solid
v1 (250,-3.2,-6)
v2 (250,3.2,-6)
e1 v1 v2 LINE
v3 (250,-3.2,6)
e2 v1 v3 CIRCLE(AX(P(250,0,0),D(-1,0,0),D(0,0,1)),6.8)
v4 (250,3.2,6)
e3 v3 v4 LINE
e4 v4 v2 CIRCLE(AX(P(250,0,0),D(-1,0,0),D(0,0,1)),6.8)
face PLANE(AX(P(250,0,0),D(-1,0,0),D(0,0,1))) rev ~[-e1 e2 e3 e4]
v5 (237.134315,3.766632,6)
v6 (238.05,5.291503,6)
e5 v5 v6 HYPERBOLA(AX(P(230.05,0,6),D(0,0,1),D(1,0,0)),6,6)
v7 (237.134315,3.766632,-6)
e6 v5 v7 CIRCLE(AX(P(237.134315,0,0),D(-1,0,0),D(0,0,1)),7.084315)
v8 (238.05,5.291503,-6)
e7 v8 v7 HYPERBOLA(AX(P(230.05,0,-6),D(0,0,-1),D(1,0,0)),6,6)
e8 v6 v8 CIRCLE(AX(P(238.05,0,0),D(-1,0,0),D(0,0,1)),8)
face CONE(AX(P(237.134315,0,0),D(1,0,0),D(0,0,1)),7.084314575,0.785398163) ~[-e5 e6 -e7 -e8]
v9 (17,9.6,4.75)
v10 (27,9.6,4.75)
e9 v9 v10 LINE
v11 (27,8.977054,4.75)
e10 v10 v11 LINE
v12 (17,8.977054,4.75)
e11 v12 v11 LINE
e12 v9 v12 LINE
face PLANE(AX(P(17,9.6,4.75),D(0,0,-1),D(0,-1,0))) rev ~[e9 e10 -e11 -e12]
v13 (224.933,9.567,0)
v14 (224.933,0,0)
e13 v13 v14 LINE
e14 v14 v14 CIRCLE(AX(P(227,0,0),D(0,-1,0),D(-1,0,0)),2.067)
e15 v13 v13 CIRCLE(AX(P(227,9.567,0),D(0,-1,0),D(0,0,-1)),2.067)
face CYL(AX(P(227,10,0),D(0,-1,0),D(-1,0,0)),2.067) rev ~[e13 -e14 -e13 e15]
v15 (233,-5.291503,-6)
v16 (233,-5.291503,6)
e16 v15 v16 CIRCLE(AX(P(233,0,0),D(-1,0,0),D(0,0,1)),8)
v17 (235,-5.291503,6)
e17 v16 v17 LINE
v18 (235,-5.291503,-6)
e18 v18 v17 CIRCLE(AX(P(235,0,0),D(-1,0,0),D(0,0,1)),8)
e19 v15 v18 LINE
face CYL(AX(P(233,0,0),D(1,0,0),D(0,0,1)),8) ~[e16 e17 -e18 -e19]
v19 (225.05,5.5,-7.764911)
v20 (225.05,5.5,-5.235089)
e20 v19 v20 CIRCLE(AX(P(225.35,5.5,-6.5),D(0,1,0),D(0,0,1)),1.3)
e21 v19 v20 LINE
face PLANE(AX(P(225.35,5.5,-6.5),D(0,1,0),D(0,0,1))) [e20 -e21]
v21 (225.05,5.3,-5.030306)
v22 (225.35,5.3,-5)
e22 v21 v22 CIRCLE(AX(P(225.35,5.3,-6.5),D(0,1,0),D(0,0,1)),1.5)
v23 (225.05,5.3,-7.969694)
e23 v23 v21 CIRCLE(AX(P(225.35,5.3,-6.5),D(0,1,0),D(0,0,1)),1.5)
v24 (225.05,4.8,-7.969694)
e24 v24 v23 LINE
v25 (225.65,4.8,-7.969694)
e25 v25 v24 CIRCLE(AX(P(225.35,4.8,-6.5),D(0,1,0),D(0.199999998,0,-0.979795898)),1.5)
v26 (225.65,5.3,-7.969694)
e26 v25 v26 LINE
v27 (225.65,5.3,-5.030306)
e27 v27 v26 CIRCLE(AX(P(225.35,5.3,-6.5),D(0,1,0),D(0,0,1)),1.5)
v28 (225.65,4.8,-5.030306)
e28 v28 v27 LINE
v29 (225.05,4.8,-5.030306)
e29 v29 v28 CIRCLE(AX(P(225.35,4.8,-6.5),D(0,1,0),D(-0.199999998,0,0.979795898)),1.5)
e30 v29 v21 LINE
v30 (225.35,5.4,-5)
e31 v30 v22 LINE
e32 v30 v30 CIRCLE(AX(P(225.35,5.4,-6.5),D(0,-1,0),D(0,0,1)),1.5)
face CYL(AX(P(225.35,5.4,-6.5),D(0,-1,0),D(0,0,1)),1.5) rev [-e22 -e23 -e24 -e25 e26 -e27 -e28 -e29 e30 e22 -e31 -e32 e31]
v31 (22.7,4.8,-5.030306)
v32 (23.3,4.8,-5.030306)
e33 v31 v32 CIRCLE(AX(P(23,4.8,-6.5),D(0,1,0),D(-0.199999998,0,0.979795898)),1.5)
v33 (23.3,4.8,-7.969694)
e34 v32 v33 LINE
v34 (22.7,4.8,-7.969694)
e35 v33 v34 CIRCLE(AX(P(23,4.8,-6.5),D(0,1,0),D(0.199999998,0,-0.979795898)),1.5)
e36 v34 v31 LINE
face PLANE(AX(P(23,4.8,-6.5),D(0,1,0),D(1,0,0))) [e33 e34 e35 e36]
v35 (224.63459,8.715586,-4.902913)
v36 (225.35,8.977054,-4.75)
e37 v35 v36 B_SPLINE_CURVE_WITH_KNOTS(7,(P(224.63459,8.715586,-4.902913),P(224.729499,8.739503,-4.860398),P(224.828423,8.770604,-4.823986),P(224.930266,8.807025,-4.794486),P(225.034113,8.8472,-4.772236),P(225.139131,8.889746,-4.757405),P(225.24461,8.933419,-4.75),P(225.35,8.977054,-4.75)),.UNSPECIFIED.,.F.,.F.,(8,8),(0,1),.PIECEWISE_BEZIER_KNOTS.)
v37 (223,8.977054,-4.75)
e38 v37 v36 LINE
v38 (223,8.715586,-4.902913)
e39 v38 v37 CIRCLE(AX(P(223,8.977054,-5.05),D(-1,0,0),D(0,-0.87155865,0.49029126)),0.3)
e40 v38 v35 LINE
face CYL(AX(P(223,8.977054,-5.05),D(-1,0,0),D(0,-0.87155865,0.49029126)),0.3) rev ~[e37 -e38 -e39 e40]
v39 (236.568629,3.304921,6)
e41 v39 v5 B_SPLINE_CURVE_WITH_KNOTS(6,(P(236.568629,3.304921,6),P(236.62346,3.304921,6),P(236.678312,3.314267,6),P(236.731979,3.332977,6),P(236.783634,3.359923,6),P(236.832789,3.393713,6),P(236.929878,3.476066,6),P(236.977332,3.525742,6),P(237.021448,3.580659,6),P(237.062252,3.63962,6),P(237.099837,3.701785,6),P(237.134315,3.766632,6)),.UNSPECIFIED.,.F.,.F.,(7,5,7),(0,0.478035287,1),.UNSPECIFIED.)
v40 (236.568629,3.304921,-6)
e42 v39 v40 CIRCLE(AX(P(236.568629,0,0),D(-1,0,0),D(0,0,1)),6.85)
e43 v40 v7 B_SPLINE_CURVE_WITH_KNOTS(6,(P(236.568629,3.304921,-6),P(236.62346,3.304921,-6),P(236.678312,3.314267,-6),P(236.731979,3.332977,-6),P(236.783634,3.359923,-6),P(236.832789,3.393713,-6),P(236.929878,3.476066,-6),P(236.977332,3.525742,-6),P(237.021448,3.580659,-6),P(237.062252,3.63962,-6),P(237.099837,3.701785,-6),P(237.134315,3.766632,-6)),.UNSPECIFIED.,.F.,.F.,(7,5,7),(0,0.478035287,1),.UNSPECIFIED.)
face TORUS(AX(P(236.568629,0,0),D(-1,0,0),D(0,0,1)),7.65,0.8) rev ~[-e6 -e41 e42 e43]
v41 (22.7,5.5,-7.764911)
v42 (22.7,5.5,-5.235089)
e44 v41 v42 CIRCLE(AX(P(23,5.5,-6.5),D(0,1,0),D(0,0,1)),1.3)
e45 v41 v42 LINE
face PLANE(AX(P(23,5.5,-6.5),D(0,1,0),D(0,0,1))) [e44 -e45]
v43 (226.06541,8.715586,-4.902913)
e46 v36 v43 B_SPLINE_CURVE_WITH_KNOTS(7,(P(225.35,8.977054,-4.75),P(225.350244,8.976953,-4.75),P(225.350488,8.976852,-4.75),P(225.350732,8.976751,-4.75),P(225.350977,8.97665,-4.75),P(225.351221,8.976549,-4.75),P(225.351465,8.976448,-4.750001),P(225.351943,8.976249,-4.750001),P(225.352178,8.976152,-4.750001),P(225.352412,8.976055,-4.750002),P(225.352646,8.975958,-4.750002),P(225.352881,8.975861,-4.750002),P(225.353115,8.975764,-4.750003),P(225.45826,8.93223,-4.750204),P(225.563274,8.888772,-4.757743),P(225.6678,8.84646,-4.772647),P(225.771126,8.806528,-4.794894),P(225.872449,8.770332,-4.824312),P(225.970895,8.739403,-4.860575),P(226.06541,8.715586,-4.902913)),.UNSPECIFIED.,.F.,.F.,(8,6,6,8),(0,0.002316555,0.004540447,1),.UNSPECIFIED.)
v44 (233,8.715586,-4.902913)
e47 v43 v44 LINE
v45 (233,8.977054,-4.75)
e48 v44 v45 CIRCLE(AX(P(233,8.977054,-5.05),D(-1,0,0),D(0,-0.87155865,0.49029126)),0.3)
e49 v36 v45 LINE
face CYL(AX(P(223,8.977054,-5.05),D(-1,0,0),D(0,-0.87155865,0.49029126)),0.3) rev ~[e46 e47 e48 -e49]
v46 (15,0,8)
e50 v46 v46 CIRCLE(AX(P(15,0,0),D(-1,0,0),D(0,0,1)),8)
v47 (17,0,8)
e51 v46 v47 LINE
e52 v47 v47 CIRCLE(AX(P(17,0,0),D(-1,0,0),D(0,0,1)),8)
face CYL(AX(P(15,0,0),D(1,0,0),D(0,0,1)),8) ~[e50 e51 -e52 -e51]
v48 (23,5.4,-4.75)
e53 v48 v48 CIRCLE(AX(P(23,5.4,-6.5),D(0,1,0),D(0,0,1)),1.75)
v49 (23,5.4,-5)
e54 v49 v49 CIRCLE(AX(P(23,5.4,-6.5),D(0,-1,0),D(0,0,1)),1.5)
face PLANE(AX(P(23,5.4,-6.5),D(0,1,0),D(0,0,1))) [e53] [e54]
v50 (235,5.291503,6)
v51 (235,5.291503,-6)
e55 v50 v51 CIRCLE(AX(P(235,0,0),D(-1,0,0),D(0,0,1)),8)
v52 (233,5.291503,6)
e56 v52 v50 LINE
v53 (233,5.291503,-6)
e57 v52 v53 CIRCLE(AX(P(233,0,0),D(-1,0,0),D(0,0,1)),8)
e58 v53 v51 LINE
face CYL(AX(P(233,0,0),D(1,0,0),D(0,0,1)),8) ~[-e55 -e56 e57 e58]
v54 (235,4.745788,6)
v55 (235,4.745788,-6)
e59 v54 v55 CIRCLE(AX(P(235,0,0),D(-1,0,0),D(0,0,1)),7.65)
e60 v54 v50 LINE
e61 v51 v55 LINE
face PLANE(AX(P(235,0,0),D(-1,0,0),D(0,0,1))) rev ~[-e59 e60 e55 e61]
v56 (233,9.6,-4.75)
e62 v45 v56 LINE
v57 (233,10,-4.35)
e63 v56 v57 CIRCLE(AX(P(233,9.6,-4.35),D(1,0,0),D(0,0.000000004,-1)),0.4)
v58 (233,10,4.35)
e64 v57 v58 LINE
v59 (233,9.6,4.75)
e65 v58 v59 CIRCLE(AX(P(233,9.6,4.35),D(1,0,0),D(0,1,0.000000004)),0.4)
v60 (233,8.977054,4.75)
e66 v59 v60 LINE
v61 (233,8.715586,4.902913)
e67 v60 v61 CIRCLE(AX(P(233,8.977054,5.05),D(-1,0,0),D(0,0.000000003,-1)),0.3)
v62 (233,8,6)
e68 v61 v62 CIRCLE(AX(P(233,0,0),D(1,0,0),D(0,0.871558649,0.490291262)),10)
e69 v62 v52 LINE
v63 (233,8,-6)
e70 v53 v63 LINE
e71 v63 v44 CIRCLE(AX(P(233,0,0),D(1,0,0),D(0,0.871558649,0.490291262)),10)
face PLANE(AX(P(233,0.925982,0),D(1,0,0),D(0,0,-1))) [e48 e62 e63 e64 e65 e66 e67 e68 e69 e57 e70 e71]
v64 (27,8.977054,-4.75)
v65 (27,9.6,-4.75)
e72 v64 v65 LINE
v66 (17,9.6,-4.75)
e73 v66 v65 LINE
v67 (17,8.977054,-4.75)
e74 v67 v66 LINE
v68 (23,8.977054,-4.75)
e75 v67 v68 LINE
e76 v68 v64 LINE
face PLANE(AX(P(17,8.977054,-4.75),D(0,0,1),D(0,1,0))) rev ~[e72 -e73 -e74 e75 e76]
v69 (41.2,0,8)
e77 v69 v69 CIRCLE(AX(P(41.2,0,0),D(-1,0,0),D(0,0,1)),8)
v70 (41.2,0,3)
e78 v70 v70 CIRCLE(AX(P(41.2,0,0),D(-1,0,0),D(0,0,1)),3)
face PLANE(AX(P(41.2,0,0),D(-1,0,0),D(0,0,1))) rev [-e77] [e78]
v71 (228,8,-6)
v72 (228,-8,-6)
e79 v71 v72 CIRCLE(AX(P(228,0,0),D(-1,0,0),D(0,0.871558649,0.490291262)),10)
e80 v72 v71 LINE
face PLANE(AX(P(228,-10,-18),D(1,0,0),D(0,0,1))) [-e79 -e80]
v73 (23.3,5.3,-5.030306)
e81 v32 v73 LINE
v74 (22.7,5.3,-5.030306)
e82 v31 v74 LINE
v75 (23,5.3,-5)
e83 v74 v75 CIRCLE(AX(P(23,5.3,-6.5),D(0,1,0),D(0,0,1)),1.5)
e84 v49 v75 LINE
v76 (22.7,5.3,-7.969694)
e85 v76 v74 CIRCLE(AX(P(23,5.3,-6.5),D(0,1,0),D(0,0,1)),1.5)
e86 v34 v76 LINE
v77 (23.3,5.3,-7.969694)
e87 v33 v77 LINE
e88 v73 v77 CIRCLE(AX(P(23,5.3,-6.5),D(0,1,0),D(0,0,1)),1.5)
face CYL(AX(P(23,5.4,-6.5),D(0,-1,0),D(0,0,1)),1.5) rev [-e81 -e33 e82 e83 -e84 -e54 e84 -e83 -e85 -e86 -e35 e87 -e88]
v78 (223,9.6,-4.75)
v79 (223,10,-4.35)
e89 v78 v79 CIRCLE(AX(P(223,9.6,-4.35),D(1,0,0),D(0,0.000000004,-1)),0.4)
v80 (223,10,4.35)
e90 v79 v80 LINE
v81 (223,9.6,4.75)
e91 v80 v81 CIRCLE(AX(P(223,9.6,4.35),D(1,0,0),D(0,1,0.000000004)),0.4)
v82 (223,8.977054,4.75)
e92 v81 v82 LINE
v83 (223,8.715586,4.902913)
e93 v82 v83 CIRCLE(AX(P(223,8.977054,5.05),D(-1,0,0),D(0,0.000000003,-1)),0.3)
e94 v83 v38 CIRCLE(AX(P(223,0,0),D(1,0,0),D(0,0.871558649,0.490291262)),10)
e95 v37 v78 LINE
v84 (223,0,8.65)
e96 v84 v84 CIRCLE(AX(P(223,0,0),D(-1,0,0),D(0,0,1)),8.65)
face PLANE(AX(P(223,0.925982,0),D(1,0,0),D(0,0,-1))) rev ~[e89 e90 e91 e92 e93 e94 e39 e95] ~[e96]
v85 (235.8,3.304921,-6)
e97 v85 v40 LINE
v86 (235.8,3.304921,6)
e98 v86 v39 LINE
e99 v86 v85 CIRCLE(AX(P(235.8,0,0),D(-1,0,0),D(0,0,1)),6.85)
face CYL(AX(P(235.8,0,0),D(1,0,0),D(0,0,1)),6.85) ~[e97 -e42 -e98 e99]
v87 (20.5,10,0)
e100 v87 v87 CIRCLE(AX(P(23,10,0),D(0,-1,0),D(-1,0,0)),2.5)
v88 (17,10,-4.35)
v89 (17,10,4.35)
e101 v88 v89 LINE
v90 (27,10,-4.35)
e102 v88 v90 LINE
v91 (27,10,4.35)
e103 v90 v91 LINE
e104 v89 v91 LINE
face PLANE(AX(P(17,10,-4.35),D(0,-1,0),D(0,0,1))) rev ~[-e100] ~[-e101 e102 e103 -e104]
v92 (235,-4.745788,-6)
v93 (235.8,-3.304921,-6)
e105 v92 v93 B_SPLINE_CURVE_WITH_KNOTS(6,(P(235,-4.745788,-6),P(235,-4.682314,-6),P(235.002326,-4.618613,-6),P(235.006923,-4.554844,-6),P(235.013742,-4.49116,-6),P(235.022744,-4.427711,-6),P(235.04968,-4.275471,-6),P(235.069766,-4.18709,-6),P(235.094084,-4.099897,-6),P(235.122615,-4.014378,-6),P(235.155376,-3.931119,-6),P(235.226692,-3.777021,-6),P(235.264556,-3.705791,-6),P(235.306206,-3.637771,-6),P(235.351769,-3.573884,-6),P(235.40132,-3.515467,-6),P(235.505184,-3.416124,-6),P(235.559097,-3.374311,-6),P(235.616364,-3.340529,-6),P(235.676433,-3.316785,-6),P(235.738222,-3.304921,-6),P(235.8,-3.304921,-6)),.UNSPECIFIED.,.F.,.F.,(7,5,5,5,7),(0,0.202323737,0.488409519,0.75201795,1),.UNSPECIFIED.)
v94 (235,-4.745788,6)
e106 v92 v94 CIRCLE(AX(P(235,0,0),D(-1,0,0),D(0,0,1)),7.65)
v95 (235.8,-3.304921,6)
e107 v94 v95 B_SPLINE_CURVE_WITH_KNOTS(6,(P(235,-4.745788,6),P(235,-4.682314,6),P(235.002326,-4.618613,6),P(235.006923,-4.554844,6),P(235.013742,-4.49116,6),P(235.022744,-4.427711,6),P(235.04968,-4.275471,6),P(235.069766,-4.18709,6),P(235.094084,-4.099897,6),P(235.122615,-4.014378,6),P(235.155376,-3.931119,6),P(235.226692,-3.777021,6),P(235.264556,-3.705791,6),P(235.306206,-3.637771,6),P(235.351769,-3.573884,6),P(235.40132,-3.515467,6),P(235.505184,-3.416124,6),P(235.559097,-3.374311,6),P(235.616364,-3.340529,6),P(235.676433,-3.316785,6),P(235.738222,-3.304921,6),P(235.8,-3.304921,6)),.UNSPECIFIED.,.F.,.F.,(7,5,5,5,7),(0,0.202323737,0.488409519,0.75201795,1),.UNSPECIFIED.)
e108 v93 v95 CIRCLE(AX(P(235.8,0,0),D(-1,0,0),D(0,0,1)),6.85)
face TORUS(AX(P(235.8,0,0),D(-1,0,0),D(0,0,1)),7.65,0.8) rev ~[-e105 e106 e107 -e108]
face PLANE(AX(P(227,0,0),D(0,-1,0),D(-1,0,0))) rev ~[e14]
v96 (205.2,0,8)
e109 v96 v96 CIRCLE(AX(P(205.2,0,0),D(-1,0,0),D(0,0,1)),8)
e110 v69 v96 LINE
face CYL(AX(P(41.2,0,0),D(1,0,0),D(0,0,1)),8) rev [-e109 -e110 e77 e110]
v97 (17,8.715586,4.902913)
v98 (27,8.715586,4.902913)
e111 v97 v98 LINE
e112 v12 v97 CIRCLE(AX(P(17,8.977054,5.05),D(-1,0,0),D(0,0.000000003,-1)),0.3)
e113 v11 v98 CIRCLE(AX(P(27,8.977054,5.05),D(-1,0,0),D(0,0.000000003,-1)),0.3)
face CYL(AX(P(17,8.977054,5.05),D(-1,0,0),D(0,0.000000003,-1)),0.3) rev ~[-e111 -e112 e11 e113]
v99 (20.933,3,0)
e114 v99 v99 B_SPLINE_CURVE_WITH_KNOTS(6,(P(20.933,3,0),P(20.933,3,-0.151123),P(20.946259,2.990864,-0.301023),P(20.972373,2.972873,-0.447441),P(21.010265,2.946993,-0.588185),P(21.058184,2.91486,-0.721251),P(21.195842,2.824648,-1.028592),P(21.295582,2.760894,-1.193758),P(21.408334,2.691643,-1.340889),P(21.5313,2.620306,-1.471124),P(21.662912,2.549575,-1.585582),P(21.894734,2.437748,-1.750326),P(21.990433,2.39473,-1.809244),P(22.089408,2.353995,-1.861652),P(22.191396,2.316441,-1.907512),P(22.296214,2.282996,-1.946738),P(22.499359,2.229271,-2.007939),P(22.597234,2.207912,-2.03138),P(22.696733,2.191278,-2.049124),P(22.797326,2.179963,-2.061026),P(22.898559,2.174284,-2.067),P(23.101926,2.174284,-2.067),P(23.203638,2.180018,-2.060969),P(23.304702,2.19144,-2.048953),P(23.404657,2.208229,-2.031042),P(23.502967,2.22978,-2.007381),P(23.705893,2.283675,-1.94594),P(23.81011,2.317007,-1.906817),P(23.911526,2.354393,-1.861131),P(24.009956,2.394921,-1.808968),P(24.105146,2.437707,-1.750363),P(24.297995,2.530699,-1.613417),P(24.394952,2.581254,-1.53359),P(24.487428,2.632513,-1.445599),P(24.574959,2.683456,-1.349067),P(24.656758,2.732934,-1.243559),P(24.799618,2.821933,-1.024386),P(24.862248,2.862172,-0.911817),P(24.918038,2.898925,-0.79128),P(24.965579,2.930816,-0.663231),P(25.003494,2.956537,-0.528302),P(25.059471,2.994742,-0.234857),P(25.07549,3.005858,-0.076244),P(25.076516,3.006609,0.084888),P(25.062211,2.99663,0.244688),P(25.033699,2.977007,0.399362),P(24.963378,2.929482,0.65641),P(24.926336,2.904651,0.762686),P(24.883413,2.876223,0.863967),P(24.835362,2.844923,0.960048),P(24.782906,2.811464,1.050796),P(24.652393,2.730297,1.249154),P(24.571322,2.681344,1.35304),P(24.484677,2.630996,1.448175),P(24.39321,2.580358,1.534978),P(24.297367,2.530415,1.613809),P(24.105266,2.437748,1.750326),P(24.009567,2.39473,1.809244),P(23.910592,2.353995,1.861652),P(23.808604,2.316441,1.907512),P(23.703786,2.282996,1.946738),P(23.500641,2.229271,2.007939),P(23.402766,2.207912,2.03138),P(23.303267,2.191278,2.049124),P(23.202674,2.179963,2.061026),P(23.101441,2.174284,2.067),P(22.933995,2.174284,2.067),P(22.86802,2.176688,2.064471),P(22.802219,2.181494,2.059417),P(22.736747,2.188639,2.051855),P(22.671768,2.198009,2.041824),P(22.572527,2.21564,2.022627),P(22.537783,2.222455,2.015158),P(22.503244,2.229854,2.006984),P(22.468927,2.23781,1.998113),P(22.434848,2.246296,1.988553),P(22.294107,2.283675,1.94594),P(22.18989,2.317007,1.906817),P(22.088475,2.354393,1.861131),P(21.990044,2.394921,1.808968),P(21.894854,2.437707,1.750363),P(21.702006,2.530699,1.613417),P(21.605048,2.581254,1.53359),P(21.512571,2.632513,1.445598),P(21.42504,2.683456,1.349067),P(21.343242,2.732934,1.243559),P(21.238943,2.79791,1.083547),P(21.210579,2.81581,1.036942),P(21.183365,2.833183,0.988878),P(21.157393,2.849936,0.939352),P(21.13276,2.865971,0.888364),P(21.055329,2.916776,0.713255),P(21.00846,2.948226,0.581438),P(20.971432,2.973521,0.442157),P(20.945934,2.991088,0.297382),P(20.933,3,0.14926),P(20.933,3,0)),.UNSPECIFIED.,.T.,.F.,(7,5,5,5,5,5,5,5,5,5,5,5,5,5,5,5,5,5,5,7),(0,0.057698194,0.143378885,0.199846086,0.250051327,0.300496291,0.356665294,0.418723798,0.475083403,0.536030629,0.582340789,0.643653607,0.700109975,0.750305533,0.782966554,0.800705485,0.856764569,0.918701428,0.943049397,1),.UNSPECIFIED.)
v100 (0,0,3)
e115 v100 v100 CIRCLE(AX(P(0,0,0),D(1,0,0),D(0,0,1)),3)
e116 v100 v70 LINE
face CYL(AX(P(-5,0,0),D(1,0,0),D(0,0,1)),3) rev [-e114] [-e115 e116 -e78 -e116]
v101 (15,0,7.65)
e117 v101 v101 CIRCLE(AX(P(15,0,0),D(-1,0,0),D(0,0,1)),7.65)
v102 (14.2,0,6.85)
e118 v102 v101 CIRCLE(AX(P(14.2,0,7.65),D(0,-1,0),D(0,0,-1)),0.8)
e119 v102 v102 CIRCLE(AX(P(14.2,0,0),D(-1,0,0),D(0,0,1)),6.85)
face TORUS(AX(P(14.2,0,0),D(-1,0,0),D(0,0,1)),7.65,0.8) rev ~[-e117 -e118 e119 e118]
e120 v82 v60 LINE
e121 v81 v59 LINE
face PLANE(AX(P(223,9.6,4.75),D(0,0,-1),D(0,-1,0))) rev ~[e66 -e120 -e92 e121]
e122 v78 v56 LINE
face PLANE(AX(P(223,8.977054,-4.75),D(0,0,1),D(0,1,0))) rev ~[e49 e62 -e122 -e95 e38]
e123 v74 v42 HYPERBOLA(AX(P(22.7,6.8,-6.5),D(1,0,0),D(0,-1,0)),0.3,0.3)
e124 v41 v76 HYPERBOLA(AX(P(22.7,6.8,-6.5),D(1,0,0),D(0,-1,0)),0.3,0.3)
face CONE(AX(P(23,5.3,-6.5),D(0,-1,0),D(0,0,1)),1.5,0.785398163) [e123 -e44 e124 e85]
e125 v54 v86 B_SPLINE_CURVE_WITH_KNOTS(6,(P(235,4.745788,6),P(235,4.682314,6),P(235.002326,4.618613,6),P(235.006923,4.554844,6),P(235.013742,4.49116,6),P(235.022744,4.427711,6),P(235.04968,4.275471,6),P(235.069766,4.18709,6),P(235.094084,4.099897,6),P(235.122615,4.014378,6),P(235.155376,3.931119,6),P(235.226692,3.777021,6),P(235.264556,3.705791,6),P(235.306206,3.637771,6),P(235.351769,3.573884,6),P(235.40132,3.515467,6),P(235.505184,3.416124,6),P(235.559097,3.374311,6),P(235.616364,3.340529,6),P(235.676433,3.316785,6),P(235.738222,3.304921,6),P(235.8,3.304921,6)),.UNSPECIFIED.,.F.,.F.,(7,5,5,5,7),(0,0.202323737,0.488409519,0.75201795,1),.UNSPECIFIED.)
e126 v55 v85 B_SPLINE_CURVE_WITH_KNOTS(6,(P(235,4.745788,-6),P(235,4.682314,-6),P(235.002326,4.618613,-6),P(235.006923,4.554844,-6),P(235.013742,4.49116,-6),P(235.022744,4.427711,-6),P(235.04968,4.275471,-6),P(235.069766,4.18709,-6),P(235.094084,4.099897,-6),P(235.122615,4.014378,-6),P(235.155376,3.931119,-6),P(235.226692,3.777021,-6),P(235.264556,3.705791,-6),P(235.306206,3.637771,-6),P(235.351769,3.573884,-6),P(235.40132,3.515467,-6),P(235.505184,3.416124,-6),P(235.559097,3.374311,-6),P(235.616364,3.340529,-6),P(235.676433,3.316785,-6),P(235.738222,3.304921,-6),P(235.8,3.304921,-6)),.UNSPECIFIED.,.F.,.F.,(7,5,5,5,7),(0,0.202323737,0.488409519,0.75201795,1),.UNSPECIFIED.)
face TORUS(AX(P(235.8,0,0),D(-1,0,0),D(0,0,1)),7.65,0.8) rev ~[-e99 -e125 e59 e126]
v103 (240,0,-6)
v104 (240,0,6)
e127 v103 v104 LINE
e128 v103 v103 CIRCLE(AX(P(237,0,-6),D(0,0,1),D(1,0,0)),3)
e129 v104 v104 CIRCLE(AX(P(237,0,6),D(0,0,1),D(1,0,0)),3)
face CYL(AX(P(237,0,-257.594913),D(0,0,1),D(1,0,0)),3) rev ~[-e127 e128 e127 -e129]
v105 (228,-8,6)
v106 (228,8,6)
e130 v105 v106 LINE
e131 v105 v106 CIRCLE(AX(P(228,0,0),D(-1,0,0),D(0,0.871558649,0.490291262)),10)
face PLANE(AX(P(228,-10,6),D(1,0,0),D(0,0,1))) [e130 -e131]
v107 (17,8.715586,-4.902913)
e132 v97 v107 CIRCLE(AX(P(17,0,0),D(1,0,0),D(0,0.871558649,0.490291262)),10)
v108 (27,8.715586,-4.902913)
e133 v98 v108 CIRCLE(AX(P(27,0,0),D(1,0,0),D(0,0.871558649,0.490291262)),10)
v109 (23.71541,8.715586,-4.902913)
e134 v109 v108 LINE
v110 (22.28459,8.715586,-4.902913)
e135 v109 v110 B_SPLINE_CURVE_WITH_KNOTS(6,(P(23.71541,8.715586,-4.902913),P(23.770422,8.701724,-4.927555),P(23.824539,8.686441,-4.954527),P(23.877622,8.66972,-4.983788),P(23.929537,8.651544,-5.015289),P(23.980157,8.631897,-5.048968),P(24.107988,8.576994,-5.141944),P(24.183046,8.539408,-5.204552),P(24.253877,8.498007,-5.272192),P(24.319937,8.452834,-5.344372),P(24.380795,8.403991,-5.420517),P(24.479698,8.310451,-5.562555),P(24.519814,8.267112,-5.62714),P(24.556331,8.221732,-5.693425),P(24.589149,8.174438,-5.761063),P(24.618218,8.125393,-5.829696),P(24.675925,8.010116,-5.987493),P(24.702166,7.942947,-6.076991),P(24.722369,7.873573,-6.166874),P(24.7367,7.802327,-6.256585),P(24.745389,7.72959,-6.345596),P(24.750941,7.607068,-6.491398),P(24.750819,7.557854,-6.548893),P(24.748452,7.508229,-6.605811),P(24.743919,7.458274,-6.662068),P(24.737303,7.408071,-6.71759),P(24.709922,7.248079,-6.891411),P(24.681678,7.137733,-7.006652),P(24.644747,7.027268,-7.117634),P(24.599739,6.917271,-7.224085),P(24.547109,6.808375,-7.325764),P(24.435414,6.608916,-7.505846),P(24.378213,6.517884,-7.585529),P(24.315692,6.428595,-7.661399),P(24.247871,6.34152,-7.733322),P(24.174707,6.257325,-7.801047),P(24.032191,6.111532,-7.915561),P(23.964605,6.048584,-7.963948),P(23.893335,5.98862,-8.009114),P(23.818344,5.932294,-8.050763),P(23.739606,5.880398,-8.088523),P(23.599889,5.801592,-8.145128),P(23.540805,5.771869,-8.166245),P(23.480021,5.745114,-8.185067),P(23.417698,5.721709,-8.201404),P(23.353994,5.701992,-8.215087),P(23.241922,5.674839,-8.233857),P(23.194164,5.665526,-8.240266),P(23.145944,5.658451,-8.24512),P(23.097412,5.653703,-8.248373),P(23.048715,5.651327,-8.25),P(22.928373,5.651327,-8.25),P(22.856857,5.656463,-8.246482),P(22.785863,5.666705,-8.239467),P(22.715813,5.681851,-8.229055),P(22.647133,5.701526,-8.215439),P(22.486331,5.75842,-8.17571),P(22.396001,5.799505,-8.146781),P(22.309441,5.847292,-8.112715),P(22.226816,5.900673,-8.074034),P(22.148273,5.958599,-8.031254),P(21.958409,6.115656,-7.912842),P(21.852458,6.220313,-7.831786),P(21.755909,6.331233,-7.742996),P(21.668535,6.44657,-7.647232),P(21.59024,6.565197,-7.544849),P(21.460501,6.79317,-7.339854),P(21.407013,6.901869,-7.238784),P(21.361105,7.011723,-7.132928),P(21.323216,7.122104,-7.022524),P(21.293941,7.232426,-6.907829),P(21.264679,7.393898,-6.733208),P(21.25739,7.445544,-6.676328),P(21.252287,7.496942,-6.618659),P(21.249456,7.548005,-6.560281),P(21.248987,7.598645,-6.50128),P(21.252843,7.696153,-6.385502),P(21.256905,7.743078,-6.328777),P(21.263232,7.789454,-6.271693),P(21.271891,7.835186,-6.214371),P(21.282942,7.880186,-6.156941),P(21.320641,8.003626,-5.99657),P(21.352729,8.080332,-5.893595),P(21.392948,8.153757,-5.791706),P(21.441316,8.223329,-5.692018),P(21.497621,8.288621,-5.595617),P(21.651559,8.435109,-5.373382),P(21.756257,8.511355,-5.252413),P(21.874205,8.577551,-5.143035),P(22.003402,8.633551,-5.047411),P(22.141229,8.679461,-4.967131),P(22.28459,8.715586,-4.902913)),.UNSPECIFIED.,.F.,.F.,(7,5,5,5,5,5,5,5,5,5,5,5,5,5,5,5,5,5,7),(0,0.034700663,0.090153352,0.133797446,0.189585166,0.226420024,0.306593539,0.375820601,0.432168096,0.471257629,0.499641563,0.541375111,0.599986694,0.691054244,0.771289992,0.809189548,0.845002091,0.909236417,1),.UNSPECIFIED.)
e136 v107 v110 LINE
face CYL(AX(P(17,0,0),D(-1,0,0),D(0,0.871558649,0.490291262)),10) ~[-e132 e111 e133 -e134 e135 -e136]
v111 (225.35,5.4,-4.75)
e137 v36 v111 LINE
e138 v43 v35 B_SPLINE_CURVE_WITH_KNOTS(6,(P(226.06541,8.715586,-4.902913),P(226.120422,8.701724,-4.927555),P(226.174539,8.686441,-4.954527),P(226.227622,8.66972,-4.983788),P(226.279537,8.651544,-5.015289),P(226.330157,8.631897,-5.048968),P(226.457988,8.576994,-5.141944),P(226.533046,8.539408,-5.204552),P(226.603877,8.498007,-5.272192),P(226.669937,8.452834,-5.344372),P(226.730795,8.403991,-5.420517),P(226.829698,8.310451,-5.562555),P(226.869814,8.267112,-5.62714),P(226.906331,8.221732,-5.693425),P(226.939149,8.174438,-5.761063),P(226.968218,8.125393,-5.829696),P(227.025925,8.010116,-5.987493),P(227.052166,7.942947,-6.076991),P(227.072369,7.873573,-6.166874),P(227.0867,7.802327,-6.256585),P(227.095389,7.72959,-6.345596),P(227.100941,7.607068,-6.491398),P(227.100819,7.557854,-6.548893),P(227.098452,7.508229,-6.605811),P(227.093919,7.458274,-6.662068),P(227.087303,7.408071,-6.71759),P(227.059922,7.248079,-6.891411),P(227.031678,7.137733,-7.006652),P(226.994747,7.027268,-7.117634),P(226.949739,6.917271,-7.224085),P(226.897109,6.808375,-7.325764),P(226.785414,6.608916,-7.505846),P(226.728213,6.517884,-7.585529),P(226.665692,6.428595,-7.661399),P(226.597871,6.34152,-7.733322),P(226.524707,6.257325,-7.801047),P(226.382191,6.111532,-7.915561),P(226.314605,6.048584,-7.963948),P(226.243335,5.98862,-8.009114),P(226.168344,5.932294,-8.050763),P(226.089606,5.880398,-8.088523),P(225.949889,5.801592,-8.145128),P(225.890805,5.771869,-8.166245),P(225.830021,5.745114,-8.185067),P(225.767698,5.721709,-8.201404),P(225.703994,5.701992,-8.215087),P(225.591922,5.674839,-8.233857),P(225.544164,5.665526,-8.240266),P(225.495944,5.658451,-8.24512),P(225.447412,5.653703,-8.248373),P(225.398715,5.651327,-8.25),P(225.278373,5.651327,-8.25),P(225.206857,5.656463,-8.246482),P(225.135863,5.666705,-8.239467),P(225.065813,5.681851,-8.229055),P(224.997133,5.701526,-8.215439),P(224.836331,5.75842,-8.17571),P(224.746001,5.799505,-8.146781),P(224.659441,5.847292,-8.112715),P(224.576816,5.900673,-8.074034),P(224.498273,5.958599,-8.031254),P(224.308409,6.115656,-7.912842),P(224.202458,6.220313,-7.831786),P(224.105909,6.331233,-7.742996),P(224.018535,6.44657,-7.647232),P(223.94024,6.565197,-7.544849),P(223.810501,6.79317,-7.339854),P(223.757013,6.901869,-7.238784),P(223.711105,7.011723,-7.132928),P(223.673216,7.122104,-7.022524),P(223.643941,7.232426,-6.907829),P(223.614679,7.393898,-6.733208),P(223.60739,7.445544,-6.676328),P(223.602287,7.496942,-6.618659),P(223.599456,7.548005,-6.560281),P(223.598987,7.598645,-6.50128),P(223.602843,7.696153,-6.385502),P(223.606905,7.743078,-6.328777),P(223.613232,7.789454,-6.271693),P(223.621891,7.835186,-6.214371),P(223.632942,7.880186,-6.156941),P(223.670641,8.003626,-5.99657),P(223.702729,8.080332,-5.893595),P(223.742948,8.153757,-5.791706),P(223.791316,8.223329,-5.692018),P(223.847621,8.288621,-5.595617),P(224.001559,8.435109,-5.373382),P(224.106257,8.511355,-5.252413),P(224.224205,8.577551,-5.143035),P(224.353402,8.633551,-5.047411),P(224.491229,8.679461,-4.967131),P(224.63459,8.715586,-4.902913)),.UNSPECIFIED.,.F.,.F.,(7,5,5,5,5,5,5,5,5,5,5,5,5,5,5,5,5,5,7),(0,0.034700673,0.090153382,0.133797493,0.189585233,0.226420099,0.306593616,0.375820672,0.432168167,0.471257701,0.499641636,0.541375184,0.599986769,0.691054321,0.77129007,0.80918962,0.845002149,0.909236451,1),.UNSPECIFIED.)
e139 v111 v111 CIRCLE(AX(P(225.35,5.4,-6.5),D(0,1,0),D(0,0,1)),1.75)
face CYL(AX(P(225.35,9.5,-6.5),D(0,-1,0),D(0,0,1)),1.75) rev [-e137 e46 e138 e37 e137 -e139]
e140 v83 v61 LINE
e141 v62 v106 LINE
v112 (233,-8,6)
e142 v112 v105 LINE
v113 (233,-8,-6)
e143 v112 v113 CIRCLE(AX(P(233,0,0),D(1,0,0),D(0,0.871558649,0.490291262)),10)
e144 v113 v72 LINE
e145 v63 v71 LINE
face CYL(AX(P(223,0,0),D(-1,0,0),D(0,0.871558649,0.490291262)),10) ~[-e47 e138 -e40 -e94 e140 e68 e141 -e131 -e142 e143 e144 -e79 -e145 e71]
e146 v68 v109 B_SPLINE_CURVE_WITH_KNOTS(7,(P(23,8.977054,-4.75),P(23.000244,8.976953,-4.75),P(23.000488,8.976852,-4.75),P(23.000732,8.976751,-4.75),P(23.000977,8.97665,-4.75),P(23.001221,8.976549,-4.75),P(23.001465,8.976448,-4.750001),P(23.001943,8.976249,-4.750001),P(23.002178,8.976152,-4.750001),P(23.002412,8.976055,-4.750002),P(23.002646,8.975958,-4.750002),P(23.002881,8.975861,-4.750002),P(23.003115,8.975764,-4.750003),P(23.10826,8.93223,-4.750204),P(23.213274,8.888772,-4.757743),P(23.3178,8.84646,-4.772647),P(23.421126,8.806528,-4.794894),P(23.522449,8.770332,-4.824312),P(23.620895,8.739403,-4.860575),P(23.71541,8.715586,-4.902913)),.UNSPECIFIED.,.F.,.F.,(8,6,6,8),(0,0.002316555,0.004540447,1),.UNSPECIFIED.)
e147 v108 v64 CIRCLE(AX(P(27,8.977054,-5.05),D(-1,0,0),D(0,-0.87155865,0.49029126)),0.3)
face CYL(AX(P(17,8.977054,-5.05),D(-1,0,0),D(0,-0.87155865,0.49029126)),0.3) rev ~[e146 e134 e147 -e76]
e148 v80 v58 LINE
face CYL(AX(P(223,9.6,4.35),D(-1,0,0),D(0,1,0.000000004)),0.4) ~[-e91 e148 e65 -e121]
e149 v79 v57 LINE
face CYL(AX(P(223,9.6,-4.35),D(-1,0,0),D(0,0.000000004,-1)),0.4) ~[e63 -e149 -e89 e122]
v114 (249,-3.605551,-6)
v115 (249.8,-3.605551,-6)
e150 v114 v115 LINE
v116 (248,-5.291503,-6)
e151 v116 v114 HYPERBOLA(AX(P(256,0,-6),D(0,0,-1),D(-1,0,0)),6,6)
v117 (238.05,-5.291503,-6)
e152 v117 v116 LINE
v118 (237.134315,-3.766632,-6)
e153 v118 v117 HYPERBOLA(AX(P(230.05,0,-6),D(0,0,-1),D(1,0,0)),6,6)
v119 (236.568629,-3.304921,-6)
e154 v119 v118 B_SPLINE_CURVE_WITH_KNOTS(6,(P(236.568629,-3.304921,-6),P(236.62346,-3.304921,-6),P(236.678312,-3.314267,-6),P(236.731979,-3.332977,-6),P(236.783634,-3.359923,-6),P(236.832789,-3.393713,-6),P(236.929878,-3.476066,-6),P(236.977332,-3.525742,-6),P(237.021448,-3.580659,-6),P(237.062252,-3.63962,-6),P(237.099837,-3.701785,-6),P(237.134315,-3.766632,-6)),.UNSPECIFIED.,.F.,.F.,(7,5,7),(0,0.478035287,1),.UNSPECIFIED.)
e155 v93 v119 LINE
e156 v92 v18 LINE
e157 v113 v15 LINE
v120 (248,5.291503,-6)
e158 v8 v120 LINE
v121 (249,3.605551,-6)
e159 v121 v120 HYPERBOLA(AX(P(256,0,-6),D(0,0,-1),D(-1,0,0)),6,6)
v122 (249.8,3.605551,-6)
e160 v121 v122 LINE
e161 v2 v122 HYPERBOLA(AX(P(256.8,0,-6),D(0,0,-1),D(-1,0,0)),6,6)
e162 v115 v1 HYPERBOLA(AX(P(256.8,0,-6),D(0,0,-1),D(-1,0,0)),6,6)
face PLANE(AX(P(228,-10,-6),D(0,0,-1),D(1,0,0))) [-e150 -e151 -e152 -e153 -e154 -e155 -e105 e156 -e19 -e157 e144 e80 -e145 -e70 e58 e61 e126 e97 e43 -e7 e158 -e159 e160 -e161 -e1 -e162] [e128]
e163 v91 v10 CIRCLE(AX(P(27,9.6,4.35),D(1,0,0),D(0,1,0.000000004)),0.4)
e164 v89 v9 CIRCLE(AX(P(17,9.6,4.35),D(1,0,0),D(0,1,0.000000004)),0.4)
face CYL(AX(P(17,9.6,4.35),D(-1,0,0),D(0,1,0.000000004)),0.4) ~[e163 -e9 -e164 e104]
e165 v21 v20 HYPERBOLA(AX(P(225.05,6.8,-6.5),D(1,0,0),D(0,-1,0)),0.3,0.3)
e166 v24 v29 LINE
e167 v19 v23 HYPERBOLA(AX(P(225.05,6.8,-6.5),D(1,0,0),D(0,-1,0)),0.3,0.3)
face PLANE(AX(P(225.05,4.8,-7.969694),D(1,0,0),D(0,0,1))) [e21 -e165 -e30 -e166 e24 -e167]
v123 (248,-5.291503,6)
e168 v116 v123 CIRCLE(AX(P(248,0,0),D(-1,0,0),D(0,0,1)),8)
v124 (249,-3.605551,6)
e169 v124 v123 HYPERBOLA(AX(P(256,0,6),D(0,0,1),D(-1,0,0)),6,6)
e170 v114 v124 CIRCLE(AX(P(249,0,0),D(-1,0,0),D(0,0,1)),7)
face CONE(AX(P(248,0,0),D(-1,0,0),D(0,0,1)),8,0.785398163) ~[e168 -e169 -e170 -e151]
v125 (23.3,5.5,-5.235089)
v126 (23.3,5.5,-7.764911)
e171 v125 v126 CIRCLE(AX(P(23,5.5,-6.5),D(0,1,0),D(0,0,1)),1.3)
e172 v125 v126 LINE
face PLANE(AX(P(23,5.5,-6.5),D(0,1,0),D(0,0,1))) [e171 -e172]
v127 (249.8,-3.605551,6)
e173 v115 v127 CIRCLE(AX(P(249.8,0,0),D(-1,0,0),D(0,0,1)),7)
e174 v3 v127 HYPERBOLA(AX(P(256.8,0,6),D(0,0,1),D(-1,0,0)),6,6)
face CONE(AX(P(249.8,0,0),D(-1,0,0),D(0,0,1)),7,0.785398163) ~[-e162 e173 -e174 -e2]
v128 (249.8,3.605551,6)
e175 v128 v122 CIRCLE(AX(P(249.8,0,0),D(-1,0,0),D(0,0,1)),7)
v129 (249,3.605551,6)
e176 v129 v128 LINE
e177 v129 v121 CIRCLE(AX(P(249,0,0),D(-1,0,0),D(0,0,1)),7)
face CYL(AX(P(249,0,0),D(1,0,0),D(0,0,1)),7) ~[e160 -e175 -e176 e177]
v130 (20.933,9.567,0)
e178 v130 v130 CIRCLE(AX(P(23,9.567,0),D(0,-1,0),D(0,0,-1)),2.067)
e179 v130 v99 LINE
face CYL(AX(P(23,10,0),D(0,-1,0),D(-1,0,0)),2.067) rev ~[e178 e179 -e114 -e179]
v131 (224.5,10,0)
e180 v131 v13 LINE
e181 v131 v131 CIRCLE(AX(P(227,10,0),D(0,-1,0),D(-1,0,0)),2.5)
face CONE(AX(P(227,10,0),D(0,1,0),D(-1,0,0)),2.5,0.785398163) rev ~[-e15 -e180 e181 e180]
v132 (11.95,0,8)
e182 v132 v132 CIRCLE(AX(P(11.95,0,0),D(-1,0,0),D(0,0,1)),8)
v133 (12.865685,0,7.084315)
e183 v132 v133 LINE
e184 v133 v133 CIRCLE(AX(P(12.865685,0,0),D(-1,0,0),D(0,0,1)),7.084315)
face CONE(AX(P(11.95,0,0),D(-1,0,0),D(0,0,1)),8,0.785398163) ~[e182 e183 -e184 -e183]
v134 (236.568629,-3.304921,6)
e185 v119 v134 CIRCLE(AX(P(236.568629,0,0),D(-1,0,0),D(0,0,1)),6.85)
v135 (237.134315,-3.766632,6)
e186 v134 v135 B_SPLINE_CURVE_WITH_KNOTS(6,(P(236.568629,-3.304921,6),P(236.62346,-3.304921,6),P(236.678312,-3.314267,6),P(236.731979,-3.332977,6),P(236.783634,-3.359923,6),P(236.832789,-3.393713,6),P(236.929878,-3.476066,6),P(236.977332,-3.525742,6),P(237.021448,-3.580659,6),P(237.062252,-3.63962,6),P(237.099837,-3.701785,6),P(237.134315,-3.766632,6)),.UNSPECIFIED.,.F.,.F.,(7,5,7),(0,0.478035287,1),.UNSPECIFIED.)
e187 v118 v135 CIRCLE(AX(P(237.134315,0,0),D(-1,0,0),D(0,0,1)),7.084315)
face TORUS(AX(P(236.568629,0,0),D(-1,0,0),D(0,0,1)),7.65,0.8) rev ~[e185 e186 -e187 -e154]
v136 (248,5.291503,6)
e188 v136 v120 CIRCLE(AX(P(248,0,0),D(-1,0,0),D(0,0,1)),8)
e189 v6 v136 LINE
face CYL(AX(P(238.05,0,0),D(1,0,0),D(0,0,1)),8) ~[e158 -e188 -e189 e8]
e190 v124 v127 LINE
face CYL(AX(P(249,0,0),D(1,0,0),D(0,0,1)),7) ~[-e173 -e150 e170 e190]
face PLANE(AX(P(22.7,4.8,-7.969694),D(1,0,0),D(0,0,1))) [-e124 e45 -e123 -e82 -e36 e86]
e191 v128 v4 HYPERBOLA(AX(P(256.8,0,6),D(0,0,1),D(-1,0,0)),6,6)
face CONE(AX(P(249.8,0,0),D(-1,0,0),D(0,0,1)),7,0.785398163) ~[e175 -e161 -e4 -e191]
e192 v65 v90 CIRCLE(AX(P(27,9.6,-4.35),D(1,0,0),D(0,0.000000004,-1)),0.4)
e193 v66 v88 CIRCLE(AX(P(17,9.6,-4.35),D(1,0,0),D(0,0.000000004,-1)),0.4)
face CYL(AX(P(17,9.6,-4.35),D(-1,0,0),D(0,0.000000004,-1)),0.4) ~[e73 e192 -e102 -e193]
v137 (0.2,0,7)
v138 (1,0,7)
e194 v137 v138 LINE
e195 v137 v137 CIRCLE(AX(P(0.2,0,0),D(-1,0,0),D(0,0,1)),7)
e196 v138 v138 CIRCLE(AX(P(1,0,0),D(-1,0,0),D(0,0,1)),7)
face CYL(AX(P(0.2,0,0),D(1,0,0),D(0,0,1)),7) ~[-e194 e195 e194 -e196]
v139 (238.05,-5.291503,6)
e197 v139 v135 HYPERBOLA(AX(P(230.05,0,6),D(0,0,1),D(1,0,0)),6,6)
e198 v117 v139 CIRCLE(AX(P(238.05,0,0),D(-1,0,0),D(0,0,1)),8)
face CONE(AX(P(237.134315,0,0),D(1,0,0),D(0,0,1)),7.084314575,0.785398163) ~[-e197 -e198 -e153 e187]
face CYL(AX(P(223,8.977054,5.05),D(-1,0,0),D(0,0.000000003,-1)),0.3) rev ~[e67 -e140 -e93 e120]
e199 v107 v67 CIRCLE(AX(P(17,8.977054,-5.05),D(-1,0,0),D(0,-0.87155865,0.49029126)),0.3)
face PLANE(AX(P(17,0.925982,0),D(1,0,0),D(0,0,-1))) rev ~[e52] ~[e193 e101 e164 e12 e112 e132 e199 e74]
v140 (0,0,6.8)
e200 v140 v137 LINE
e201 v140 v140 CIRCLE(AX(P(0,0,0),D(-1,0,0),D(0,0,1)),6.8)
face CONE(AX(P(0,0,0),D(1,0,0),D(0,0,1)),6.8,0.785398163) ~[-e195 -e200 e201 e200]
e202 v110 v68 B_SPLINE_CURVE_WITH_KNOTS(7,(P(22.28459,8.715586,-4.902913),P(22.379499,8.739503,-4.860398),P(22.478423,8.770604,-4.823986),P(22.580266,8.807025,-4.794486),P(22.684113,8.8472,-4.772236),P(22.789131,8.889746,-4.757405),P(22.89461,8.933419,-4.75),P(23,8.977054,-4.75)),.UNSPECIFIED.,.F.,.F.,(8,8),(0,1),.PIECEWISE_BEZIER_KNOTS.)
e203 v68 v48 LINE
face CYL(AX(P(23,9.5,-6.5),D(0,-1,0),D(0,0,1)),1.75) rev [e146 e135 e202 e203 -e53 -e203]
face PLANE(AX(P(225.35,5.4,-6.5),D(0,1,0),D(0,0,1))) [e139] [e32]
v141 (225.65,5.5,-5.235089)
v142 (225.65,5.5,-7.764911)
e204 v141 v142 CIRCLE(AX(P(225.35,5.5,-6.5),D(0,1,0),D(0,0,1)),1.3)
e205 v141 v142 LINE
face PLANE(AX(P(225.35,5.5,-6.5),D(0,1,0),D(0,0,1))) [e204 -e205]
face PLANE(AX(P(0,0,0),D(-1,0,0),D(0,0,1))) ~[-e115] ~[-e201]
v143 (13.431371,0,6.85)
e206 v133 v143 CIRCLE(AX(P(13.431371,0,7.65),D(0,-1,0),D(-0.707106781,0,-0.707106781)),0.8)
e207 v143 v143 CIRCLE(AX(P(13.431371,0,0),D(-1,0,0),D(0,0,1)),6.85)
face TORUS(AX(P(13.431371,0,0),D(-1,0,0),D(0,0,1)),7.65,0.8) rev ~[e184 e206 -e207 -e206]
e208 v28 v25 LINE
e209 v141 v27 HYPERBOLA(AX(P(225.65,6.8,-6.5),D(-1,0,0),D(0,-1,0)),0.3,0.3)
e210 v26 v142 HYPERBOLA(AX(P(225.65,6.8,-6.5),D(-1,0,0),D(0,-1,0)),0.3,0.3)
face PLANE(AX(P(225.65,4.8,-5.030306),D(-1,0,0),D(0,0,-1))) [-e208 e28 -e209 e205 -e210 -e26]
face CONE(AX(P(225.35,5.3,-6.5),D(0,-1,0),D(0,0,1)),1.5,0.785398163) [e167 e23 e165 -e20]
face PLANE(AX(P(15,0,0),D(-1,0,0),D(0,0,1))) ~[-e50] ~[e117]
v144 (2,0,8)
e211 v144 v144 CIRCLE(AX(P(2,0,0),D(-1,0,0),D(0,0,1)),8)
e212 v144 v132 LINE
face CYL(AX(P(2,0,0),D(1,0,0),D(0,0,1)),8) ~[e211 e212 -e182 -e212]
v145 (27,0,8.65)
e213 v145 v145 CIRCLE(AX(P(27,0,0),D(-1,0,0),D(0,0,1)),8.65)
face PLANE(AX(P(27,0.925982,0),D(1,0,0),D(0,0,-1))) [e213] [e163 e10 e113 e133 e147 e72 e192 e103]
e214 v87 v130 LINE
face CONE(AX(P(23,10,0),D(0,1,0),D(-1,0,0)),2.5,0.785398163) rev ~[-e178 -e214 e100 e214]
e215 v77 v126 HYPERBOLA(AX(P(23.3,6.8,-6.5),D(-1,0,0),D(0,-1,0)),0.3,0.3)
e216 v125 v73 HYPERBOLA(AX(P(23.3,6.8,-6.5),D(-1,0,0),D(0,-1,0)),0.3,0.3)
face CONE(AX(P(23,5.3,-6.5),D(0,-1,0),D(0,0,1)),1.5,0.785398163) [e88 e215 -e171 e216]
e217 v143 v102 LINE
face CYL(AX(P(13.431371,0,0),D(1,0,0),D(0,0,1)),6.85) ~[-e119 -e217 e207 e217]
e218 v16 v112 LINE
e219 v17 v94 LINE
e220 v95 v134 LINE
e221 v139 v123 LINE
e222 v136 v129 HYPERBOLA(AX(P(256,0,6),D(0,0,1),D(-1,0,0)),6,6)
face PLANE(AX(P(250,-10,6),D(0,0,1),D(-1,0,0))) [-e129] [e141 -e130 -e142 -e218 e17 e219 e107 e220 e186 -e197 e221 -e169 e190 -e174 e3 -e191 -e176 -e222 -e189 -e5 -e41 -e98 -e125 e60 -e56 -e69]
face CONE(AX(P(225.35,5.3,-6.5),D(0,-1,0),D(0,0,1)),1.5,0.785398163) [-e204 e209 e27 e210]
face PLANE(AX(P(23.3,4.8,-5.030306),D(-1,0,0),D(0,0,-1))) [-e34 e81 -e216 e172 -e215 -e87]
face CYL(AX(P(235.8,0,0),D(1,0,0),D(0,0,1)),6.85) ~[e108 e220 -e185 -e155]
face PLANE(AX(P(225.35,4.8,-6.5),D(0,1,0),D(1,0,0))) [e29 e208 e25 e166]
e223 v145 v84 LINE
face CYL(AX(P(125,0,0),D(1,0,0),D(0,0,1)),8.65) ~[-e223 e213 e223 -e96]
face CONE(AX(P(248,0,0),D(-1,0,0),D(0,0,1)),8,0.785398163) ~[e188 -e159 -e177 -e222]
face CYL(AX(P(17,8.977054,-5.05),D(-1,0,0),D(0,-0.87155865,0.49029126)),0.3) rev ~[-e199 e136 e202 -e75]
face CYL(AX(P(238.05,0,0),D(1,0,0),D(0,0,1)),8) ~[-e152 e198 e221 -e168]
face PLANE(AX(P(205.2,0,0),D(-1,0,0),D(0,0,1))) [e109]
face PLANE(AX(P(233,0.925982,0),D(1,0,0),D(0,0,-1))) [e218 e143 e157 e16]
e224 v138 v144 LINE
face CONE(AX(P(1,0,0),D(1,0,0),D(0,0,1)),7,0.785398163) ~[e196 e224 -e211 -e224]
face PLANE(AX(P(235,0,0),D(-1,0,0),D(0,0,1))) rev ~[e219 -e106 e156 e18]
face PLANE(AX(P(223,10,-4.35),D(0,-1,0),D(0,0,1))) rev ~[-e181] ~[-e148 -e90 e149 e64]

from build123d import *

# Parameters (mm, degrees)
AUFSATZ_LINEAR_AUSTRAGEN1_DEPTH      = 10
SCHNITT_LINEAR_START                 = -0.7
SCHNITT_LINEAR_AUSTRAGEN1_DEPTH      = 0.7
SKIZZE5_W                            = 196
SKIZZE5_H                            = 8.65
AUFSATZ_LINEAR_AUSTRAGEN2_DEPTH      = 10
SCHNITT_LINEAR_AUSTRAGEN2_DEPTH      = 0.7
SCHNITT_LINEAR_AUSTRAGEN3_DEPTH      = 10
SCHNITT_LINEAR_AUSTRAGEN3_DEPTH_BACK = 10
BOHRUNG1_D                           = 6
BOHRUNG2_D                           = 4.134
BOHRUNG2_DEPTH                       = 10
BOHRUNG2_CSINK_D                     = 5
BOHRUNG2_CSINK_ANGLE                 = 90
BOHRUNG3_D                           = 4.134
BOHRUNG3_DEPTH                       = 10
BOHRUNG3_CSINK_D                     = 5
BOHRUNG3_CSINK_ANGLE                 = 90


with BuildPart() as part:
    # Skizze1 → Rotation1 (revolve)
    with BuildSketch(Plane.XY):
        with BuildLine():
            Line((0, 0), (0, 6.8))
            Line((0, 6.8), (0.2, 7))
            Line((0.2, 7), (1, 7))
            Line((1, 7), (2, 8))
            Line((2, 8), (11.95, 8))
            Line((11.95, 8), (12.865685425, 7.084314575))
            ThreePointArc((12.865685425, 7.084314575), (13.125224104, 6.910896374), (13.43137085, 6.85))
            Line((13.43137085, 6.85), (14.2, 6.85))
            ThreePointArc((14.2, 6.85), (14.765685425, 7.084314575), (15, 7.65))
            Line((15, 7.65), (15, 8))
            Line((15, 8), (17, 8))
            Line((17, 8), (17, 0))
            Line((17, 0), (0, 0))
        make_face()
    revolve(axis=Axis((17, 0, 0), (-1, 0, 0)))

    # Skizze2 → Aufsatz-Linear austragen1 (add)
    with BuildSketch(Plane(origin=(17, 0, 0), x_dir=(0, 0, -1), z_dir=(1, 0, 0))):
        with BuildLine():
            Line((4.75, 8.977054082), (4.75, 9.6))
            ThreePointArc((4.75, 9.6), (4.632842712, 9.882842712), (4.35, 10))
            Line((4.35, 10), (-4.35, 10))
            ThreePointArc((-4.35, 10), (-4.632842712, 9.882842712), (-4.75, 9.6))
            Line((-4.75, 9.6), (-4.75, 8.977054082))
            ThreePointArc((-4.75, 8.977054082), (-4.791034545, 8.825604773), (-4.902912621, 8.715586488))
            ThreePointArc((-4.902912621, 8.715586488), (0, -10), (4.902912621, 8.715586488))
            ThreePointArc((4.902912621, 8.715586488), (4.791034545, 8.825604773), (4.75, 8.977054082))
        make_face()
    extrude(amount=AUFSATZ_LINEAR_AUSTRAGEN1_DEPTH)

    # Skizze3 → Schnitt-Rotation1 (revolve, cut)
    with BuildSketch(Plane(origin=(23, 0, 0), x_dir=(0, 0, -1), z_dir=(1, 0, 0))):
        Polygon((6.5, 9.5), (8.25, 9.5), (8.25, 5.4), (8, 5.4), (8, 5.3), (7.8, 5.5), (6.5, 5.5), align=None)
    revolve(axis=Axis((23, 5.5, -6.5), (0, 1, 0)), mode=Mode.SUBTRACT)

    # Skizze4 → Schnitt-Linear austragen1 (cut)
    with BuildSketch(Plane(origin=(0, 5.5, 0), x_dir=(1, 0, 0), z_dir=(0, 1, 0)).offset(SCHNITT_LINEAR_START)):
        with BuildLine():
            Line((23.3, 5.030306154), (23.3, 7.969693846))
            ThreePointArc((23.3, 7.969693846), (23, 8), (22.7, 7.969693846))
            Line((22.7, 7.969693846), (22.7, 5.030306154))
            ThreePointArc((22.7, 5.030306154), (23, 5), (23.3, 5.030306154))
        make_face()
    extrude(amount=SCHNITT_LINEAR_AUSTRAGEN1_DEPTH, mode=Mode.SUBTRACT)

    # Skizze5 → Rotation2 (revolve)
    with BuildSketch(Plane.XY):
        with Locations((125, 4.325)):
            Rectangle(SKIZZE5_W, SKIZZE5_H)
    revolve(axis=Axis((223, 0, 0), (-1, 0, 0)))

    # Skizze6 → Aufsatz-Linear austragen2 (add)
    with BuildSketch(Plane(origin=(223, 0, 0), x_dir=(0, 0, -1), z_dir=(1, 0, 0))):
        with BuildLine():
            Line((4.75, 8.977054082), (4.75, 9.6))
            ThreePointArc((4.75, 9.6), (4.632842712, 9.882842712), (4.35, 10))
            Line((4.35, 10), (-4.35, 10))
            ThreePointArc((-4.35, 10), (-4.632842712, 9.882842712), (-4.75, 9.6))
            Line((-4.75, 9.6), (-4.75, 8.977054082))
            ThreePointArc((-4.75, 8.977054082), (-4.791034545, 8.825604773), (-4.902912621, 8.715586488))
            ThreePointArc((-4.902912621, 8.715586488), (0, -10), (4.902912621, 8.715586488))
            ThreePointArc((4.902912621, 8.715586488), (4.791034545, 8.825604773), (4.75, 8.977054082))
        make_face()
    extrude(amount=AUFSATZ_LINEAR_AUSTRAGEN2_DEPTH)

    # Skizze7 → Schnitt-Rotation2 (revolve, cut)
    with BuildSketch(Plane(origin=(225.35, 0, 0), x_dir=(0, 0, -1), z_dir=(1, 0, 0))):
        Polygon((6.5, 9.5), (8.25, 9.5), (8.25, 5.4), (8, 5.4), (8, 5.3), (7.8, 5.5), (6.5, 5.5), align=None)
    revolve(axis=Axis((225.35, 5.5, -6.5), (0, 1, 0)), mode=Mode.SUBTRACT)

    # Skizze8 → Schnitt-Linear austragen2 (cut)
    with BuildSketch(Plane(origin=(0, 5.5, 0), x_dir=(1, 0, 0), z_dir=(0, 1, 0)).offset(SCHNITT_LINEAR_START)):
        with BuildLine():
            Line((225.65, 5.030306154), (225.65, 7.969693846))
            ThreePointArc((225.65, 7.969693846), (225.35, 8), (225.05, 7.969693846))
            Line((225.05, 7.969693846), (225.05, 5.030306154))
            ThreePointArc((225.05, 5.030306154), (225.35, 5), (225.65, 5.030306154))
        make_face()
    extrude(amount=SCHNITT_LINEAR_AUSTRAGEN2_DEPTH, mode=Mode.SUBTRACT)

    # Skizze9 → Rotation3 (revolve)
    with BuildSketch(Plane.XY):
        with BuildLine():
            Line((233, 0), (233, 8))
            Line((233, 8), (235, 8))
            Line((235, 8), (235, 7.65))
            ThreePointArc((235, 7.65), (235.234314575, 7.084314575), (235.8, 6.85))
            Line((235.8, 6.85), (236.56862915, 6.85))
            ThreePointArc((236.56862915, 6.85), (236.874775896, 6.910896374), (237.134314575, 7.084314575))
            Line((237.134314575, 7.084314575), (238.05, 8))
            Line((238.05, 8), (248, 8))
            Line((248, 8), (249, 7))
            Line((249, 7), (249.8, 7))
            Line((249.8, 7), (250, 6.8))
            Line((250, 6.8), (250, 0))
            Line((250, 0), (233, 0))
        make_face()
    revolve(axis=Axis((250, 0, 0), (-1, 0, 0)))

    # Skizze10 → Schnitt-Linear austragen3 (cut, two sides: drawn at the far end of the back side and taken through both)
    with BuildSketch(Plane(origin=(0, 0, 0), x_dir=(1, 0, 0), z_dir=(0, 1, 0)).offset(-SCHNITT_LINEAR_AUSTRAGEN3_DEPTH_BACK)):
        Polygon((228, 18), (228, 6), (250, 6), (250, -6), (228, -6), (228, -18), (262, -18), (262, 18), align=None)
    extrude(amount=SCHNITT_LINEAR_AUSTRAGEN3_DEPTH + SCHNITT_LINEAR_AUSTRAGEN3_DEPTH_BACK, mode=Mode.SUBTRACT)

    # Bohrung1 (through all)
    with Locations(Plane(origin=(0, 0, -6), x_dir=(-1, 0, 0), z_dir=(0, 0, -1))):
        with Locations((-237, 0)):
            Hole(BOHRUNG1_D / 2)

    # Bohrung2
    with Locations(Plane(origin=(0, 10, 0), x_dir=(1, 0, 0), z_dir=(0, 1, 0))):
        with Locations((23, 0)):
            CounterSinkHole(BOHRUNG2_D / 2, BOHRUNG2_CSINK_D / 2, depth=BOHRUNG2_DEPTH, counter_sink_angle=BOHRUNG2_CSINK_ANGLE)

    # Bohrung3
    with Locations(Plane(origin=(0, 10, 0), x_dir=(1, 0, 0), z_dir=(0, 1, 0))):
        with Locations((227, 0)):
            CounterSinkHole(BOHRUNG3_D / 2, BOHRUNG3_CSINK_D / 2, depth=BOHRUNG3_DEPTH, counter_sink_angle=BOHRUNG3_CSINK_ANGLE)

    # Skizze17 → Schnitt-Rotation3 (revolve, cut)
    with BuildSketch(Plane.XY):
        Polygon((-5, 0), (-5, 3), (41.2, 3), (41.2, 8), (205.2, 8), (205.2, 0), align=None)
    revolve(axis=Axis((205.2, 0, 0), (-1, 0, 0)), mode=Mode.SUBTRACT)


solid = part.part
